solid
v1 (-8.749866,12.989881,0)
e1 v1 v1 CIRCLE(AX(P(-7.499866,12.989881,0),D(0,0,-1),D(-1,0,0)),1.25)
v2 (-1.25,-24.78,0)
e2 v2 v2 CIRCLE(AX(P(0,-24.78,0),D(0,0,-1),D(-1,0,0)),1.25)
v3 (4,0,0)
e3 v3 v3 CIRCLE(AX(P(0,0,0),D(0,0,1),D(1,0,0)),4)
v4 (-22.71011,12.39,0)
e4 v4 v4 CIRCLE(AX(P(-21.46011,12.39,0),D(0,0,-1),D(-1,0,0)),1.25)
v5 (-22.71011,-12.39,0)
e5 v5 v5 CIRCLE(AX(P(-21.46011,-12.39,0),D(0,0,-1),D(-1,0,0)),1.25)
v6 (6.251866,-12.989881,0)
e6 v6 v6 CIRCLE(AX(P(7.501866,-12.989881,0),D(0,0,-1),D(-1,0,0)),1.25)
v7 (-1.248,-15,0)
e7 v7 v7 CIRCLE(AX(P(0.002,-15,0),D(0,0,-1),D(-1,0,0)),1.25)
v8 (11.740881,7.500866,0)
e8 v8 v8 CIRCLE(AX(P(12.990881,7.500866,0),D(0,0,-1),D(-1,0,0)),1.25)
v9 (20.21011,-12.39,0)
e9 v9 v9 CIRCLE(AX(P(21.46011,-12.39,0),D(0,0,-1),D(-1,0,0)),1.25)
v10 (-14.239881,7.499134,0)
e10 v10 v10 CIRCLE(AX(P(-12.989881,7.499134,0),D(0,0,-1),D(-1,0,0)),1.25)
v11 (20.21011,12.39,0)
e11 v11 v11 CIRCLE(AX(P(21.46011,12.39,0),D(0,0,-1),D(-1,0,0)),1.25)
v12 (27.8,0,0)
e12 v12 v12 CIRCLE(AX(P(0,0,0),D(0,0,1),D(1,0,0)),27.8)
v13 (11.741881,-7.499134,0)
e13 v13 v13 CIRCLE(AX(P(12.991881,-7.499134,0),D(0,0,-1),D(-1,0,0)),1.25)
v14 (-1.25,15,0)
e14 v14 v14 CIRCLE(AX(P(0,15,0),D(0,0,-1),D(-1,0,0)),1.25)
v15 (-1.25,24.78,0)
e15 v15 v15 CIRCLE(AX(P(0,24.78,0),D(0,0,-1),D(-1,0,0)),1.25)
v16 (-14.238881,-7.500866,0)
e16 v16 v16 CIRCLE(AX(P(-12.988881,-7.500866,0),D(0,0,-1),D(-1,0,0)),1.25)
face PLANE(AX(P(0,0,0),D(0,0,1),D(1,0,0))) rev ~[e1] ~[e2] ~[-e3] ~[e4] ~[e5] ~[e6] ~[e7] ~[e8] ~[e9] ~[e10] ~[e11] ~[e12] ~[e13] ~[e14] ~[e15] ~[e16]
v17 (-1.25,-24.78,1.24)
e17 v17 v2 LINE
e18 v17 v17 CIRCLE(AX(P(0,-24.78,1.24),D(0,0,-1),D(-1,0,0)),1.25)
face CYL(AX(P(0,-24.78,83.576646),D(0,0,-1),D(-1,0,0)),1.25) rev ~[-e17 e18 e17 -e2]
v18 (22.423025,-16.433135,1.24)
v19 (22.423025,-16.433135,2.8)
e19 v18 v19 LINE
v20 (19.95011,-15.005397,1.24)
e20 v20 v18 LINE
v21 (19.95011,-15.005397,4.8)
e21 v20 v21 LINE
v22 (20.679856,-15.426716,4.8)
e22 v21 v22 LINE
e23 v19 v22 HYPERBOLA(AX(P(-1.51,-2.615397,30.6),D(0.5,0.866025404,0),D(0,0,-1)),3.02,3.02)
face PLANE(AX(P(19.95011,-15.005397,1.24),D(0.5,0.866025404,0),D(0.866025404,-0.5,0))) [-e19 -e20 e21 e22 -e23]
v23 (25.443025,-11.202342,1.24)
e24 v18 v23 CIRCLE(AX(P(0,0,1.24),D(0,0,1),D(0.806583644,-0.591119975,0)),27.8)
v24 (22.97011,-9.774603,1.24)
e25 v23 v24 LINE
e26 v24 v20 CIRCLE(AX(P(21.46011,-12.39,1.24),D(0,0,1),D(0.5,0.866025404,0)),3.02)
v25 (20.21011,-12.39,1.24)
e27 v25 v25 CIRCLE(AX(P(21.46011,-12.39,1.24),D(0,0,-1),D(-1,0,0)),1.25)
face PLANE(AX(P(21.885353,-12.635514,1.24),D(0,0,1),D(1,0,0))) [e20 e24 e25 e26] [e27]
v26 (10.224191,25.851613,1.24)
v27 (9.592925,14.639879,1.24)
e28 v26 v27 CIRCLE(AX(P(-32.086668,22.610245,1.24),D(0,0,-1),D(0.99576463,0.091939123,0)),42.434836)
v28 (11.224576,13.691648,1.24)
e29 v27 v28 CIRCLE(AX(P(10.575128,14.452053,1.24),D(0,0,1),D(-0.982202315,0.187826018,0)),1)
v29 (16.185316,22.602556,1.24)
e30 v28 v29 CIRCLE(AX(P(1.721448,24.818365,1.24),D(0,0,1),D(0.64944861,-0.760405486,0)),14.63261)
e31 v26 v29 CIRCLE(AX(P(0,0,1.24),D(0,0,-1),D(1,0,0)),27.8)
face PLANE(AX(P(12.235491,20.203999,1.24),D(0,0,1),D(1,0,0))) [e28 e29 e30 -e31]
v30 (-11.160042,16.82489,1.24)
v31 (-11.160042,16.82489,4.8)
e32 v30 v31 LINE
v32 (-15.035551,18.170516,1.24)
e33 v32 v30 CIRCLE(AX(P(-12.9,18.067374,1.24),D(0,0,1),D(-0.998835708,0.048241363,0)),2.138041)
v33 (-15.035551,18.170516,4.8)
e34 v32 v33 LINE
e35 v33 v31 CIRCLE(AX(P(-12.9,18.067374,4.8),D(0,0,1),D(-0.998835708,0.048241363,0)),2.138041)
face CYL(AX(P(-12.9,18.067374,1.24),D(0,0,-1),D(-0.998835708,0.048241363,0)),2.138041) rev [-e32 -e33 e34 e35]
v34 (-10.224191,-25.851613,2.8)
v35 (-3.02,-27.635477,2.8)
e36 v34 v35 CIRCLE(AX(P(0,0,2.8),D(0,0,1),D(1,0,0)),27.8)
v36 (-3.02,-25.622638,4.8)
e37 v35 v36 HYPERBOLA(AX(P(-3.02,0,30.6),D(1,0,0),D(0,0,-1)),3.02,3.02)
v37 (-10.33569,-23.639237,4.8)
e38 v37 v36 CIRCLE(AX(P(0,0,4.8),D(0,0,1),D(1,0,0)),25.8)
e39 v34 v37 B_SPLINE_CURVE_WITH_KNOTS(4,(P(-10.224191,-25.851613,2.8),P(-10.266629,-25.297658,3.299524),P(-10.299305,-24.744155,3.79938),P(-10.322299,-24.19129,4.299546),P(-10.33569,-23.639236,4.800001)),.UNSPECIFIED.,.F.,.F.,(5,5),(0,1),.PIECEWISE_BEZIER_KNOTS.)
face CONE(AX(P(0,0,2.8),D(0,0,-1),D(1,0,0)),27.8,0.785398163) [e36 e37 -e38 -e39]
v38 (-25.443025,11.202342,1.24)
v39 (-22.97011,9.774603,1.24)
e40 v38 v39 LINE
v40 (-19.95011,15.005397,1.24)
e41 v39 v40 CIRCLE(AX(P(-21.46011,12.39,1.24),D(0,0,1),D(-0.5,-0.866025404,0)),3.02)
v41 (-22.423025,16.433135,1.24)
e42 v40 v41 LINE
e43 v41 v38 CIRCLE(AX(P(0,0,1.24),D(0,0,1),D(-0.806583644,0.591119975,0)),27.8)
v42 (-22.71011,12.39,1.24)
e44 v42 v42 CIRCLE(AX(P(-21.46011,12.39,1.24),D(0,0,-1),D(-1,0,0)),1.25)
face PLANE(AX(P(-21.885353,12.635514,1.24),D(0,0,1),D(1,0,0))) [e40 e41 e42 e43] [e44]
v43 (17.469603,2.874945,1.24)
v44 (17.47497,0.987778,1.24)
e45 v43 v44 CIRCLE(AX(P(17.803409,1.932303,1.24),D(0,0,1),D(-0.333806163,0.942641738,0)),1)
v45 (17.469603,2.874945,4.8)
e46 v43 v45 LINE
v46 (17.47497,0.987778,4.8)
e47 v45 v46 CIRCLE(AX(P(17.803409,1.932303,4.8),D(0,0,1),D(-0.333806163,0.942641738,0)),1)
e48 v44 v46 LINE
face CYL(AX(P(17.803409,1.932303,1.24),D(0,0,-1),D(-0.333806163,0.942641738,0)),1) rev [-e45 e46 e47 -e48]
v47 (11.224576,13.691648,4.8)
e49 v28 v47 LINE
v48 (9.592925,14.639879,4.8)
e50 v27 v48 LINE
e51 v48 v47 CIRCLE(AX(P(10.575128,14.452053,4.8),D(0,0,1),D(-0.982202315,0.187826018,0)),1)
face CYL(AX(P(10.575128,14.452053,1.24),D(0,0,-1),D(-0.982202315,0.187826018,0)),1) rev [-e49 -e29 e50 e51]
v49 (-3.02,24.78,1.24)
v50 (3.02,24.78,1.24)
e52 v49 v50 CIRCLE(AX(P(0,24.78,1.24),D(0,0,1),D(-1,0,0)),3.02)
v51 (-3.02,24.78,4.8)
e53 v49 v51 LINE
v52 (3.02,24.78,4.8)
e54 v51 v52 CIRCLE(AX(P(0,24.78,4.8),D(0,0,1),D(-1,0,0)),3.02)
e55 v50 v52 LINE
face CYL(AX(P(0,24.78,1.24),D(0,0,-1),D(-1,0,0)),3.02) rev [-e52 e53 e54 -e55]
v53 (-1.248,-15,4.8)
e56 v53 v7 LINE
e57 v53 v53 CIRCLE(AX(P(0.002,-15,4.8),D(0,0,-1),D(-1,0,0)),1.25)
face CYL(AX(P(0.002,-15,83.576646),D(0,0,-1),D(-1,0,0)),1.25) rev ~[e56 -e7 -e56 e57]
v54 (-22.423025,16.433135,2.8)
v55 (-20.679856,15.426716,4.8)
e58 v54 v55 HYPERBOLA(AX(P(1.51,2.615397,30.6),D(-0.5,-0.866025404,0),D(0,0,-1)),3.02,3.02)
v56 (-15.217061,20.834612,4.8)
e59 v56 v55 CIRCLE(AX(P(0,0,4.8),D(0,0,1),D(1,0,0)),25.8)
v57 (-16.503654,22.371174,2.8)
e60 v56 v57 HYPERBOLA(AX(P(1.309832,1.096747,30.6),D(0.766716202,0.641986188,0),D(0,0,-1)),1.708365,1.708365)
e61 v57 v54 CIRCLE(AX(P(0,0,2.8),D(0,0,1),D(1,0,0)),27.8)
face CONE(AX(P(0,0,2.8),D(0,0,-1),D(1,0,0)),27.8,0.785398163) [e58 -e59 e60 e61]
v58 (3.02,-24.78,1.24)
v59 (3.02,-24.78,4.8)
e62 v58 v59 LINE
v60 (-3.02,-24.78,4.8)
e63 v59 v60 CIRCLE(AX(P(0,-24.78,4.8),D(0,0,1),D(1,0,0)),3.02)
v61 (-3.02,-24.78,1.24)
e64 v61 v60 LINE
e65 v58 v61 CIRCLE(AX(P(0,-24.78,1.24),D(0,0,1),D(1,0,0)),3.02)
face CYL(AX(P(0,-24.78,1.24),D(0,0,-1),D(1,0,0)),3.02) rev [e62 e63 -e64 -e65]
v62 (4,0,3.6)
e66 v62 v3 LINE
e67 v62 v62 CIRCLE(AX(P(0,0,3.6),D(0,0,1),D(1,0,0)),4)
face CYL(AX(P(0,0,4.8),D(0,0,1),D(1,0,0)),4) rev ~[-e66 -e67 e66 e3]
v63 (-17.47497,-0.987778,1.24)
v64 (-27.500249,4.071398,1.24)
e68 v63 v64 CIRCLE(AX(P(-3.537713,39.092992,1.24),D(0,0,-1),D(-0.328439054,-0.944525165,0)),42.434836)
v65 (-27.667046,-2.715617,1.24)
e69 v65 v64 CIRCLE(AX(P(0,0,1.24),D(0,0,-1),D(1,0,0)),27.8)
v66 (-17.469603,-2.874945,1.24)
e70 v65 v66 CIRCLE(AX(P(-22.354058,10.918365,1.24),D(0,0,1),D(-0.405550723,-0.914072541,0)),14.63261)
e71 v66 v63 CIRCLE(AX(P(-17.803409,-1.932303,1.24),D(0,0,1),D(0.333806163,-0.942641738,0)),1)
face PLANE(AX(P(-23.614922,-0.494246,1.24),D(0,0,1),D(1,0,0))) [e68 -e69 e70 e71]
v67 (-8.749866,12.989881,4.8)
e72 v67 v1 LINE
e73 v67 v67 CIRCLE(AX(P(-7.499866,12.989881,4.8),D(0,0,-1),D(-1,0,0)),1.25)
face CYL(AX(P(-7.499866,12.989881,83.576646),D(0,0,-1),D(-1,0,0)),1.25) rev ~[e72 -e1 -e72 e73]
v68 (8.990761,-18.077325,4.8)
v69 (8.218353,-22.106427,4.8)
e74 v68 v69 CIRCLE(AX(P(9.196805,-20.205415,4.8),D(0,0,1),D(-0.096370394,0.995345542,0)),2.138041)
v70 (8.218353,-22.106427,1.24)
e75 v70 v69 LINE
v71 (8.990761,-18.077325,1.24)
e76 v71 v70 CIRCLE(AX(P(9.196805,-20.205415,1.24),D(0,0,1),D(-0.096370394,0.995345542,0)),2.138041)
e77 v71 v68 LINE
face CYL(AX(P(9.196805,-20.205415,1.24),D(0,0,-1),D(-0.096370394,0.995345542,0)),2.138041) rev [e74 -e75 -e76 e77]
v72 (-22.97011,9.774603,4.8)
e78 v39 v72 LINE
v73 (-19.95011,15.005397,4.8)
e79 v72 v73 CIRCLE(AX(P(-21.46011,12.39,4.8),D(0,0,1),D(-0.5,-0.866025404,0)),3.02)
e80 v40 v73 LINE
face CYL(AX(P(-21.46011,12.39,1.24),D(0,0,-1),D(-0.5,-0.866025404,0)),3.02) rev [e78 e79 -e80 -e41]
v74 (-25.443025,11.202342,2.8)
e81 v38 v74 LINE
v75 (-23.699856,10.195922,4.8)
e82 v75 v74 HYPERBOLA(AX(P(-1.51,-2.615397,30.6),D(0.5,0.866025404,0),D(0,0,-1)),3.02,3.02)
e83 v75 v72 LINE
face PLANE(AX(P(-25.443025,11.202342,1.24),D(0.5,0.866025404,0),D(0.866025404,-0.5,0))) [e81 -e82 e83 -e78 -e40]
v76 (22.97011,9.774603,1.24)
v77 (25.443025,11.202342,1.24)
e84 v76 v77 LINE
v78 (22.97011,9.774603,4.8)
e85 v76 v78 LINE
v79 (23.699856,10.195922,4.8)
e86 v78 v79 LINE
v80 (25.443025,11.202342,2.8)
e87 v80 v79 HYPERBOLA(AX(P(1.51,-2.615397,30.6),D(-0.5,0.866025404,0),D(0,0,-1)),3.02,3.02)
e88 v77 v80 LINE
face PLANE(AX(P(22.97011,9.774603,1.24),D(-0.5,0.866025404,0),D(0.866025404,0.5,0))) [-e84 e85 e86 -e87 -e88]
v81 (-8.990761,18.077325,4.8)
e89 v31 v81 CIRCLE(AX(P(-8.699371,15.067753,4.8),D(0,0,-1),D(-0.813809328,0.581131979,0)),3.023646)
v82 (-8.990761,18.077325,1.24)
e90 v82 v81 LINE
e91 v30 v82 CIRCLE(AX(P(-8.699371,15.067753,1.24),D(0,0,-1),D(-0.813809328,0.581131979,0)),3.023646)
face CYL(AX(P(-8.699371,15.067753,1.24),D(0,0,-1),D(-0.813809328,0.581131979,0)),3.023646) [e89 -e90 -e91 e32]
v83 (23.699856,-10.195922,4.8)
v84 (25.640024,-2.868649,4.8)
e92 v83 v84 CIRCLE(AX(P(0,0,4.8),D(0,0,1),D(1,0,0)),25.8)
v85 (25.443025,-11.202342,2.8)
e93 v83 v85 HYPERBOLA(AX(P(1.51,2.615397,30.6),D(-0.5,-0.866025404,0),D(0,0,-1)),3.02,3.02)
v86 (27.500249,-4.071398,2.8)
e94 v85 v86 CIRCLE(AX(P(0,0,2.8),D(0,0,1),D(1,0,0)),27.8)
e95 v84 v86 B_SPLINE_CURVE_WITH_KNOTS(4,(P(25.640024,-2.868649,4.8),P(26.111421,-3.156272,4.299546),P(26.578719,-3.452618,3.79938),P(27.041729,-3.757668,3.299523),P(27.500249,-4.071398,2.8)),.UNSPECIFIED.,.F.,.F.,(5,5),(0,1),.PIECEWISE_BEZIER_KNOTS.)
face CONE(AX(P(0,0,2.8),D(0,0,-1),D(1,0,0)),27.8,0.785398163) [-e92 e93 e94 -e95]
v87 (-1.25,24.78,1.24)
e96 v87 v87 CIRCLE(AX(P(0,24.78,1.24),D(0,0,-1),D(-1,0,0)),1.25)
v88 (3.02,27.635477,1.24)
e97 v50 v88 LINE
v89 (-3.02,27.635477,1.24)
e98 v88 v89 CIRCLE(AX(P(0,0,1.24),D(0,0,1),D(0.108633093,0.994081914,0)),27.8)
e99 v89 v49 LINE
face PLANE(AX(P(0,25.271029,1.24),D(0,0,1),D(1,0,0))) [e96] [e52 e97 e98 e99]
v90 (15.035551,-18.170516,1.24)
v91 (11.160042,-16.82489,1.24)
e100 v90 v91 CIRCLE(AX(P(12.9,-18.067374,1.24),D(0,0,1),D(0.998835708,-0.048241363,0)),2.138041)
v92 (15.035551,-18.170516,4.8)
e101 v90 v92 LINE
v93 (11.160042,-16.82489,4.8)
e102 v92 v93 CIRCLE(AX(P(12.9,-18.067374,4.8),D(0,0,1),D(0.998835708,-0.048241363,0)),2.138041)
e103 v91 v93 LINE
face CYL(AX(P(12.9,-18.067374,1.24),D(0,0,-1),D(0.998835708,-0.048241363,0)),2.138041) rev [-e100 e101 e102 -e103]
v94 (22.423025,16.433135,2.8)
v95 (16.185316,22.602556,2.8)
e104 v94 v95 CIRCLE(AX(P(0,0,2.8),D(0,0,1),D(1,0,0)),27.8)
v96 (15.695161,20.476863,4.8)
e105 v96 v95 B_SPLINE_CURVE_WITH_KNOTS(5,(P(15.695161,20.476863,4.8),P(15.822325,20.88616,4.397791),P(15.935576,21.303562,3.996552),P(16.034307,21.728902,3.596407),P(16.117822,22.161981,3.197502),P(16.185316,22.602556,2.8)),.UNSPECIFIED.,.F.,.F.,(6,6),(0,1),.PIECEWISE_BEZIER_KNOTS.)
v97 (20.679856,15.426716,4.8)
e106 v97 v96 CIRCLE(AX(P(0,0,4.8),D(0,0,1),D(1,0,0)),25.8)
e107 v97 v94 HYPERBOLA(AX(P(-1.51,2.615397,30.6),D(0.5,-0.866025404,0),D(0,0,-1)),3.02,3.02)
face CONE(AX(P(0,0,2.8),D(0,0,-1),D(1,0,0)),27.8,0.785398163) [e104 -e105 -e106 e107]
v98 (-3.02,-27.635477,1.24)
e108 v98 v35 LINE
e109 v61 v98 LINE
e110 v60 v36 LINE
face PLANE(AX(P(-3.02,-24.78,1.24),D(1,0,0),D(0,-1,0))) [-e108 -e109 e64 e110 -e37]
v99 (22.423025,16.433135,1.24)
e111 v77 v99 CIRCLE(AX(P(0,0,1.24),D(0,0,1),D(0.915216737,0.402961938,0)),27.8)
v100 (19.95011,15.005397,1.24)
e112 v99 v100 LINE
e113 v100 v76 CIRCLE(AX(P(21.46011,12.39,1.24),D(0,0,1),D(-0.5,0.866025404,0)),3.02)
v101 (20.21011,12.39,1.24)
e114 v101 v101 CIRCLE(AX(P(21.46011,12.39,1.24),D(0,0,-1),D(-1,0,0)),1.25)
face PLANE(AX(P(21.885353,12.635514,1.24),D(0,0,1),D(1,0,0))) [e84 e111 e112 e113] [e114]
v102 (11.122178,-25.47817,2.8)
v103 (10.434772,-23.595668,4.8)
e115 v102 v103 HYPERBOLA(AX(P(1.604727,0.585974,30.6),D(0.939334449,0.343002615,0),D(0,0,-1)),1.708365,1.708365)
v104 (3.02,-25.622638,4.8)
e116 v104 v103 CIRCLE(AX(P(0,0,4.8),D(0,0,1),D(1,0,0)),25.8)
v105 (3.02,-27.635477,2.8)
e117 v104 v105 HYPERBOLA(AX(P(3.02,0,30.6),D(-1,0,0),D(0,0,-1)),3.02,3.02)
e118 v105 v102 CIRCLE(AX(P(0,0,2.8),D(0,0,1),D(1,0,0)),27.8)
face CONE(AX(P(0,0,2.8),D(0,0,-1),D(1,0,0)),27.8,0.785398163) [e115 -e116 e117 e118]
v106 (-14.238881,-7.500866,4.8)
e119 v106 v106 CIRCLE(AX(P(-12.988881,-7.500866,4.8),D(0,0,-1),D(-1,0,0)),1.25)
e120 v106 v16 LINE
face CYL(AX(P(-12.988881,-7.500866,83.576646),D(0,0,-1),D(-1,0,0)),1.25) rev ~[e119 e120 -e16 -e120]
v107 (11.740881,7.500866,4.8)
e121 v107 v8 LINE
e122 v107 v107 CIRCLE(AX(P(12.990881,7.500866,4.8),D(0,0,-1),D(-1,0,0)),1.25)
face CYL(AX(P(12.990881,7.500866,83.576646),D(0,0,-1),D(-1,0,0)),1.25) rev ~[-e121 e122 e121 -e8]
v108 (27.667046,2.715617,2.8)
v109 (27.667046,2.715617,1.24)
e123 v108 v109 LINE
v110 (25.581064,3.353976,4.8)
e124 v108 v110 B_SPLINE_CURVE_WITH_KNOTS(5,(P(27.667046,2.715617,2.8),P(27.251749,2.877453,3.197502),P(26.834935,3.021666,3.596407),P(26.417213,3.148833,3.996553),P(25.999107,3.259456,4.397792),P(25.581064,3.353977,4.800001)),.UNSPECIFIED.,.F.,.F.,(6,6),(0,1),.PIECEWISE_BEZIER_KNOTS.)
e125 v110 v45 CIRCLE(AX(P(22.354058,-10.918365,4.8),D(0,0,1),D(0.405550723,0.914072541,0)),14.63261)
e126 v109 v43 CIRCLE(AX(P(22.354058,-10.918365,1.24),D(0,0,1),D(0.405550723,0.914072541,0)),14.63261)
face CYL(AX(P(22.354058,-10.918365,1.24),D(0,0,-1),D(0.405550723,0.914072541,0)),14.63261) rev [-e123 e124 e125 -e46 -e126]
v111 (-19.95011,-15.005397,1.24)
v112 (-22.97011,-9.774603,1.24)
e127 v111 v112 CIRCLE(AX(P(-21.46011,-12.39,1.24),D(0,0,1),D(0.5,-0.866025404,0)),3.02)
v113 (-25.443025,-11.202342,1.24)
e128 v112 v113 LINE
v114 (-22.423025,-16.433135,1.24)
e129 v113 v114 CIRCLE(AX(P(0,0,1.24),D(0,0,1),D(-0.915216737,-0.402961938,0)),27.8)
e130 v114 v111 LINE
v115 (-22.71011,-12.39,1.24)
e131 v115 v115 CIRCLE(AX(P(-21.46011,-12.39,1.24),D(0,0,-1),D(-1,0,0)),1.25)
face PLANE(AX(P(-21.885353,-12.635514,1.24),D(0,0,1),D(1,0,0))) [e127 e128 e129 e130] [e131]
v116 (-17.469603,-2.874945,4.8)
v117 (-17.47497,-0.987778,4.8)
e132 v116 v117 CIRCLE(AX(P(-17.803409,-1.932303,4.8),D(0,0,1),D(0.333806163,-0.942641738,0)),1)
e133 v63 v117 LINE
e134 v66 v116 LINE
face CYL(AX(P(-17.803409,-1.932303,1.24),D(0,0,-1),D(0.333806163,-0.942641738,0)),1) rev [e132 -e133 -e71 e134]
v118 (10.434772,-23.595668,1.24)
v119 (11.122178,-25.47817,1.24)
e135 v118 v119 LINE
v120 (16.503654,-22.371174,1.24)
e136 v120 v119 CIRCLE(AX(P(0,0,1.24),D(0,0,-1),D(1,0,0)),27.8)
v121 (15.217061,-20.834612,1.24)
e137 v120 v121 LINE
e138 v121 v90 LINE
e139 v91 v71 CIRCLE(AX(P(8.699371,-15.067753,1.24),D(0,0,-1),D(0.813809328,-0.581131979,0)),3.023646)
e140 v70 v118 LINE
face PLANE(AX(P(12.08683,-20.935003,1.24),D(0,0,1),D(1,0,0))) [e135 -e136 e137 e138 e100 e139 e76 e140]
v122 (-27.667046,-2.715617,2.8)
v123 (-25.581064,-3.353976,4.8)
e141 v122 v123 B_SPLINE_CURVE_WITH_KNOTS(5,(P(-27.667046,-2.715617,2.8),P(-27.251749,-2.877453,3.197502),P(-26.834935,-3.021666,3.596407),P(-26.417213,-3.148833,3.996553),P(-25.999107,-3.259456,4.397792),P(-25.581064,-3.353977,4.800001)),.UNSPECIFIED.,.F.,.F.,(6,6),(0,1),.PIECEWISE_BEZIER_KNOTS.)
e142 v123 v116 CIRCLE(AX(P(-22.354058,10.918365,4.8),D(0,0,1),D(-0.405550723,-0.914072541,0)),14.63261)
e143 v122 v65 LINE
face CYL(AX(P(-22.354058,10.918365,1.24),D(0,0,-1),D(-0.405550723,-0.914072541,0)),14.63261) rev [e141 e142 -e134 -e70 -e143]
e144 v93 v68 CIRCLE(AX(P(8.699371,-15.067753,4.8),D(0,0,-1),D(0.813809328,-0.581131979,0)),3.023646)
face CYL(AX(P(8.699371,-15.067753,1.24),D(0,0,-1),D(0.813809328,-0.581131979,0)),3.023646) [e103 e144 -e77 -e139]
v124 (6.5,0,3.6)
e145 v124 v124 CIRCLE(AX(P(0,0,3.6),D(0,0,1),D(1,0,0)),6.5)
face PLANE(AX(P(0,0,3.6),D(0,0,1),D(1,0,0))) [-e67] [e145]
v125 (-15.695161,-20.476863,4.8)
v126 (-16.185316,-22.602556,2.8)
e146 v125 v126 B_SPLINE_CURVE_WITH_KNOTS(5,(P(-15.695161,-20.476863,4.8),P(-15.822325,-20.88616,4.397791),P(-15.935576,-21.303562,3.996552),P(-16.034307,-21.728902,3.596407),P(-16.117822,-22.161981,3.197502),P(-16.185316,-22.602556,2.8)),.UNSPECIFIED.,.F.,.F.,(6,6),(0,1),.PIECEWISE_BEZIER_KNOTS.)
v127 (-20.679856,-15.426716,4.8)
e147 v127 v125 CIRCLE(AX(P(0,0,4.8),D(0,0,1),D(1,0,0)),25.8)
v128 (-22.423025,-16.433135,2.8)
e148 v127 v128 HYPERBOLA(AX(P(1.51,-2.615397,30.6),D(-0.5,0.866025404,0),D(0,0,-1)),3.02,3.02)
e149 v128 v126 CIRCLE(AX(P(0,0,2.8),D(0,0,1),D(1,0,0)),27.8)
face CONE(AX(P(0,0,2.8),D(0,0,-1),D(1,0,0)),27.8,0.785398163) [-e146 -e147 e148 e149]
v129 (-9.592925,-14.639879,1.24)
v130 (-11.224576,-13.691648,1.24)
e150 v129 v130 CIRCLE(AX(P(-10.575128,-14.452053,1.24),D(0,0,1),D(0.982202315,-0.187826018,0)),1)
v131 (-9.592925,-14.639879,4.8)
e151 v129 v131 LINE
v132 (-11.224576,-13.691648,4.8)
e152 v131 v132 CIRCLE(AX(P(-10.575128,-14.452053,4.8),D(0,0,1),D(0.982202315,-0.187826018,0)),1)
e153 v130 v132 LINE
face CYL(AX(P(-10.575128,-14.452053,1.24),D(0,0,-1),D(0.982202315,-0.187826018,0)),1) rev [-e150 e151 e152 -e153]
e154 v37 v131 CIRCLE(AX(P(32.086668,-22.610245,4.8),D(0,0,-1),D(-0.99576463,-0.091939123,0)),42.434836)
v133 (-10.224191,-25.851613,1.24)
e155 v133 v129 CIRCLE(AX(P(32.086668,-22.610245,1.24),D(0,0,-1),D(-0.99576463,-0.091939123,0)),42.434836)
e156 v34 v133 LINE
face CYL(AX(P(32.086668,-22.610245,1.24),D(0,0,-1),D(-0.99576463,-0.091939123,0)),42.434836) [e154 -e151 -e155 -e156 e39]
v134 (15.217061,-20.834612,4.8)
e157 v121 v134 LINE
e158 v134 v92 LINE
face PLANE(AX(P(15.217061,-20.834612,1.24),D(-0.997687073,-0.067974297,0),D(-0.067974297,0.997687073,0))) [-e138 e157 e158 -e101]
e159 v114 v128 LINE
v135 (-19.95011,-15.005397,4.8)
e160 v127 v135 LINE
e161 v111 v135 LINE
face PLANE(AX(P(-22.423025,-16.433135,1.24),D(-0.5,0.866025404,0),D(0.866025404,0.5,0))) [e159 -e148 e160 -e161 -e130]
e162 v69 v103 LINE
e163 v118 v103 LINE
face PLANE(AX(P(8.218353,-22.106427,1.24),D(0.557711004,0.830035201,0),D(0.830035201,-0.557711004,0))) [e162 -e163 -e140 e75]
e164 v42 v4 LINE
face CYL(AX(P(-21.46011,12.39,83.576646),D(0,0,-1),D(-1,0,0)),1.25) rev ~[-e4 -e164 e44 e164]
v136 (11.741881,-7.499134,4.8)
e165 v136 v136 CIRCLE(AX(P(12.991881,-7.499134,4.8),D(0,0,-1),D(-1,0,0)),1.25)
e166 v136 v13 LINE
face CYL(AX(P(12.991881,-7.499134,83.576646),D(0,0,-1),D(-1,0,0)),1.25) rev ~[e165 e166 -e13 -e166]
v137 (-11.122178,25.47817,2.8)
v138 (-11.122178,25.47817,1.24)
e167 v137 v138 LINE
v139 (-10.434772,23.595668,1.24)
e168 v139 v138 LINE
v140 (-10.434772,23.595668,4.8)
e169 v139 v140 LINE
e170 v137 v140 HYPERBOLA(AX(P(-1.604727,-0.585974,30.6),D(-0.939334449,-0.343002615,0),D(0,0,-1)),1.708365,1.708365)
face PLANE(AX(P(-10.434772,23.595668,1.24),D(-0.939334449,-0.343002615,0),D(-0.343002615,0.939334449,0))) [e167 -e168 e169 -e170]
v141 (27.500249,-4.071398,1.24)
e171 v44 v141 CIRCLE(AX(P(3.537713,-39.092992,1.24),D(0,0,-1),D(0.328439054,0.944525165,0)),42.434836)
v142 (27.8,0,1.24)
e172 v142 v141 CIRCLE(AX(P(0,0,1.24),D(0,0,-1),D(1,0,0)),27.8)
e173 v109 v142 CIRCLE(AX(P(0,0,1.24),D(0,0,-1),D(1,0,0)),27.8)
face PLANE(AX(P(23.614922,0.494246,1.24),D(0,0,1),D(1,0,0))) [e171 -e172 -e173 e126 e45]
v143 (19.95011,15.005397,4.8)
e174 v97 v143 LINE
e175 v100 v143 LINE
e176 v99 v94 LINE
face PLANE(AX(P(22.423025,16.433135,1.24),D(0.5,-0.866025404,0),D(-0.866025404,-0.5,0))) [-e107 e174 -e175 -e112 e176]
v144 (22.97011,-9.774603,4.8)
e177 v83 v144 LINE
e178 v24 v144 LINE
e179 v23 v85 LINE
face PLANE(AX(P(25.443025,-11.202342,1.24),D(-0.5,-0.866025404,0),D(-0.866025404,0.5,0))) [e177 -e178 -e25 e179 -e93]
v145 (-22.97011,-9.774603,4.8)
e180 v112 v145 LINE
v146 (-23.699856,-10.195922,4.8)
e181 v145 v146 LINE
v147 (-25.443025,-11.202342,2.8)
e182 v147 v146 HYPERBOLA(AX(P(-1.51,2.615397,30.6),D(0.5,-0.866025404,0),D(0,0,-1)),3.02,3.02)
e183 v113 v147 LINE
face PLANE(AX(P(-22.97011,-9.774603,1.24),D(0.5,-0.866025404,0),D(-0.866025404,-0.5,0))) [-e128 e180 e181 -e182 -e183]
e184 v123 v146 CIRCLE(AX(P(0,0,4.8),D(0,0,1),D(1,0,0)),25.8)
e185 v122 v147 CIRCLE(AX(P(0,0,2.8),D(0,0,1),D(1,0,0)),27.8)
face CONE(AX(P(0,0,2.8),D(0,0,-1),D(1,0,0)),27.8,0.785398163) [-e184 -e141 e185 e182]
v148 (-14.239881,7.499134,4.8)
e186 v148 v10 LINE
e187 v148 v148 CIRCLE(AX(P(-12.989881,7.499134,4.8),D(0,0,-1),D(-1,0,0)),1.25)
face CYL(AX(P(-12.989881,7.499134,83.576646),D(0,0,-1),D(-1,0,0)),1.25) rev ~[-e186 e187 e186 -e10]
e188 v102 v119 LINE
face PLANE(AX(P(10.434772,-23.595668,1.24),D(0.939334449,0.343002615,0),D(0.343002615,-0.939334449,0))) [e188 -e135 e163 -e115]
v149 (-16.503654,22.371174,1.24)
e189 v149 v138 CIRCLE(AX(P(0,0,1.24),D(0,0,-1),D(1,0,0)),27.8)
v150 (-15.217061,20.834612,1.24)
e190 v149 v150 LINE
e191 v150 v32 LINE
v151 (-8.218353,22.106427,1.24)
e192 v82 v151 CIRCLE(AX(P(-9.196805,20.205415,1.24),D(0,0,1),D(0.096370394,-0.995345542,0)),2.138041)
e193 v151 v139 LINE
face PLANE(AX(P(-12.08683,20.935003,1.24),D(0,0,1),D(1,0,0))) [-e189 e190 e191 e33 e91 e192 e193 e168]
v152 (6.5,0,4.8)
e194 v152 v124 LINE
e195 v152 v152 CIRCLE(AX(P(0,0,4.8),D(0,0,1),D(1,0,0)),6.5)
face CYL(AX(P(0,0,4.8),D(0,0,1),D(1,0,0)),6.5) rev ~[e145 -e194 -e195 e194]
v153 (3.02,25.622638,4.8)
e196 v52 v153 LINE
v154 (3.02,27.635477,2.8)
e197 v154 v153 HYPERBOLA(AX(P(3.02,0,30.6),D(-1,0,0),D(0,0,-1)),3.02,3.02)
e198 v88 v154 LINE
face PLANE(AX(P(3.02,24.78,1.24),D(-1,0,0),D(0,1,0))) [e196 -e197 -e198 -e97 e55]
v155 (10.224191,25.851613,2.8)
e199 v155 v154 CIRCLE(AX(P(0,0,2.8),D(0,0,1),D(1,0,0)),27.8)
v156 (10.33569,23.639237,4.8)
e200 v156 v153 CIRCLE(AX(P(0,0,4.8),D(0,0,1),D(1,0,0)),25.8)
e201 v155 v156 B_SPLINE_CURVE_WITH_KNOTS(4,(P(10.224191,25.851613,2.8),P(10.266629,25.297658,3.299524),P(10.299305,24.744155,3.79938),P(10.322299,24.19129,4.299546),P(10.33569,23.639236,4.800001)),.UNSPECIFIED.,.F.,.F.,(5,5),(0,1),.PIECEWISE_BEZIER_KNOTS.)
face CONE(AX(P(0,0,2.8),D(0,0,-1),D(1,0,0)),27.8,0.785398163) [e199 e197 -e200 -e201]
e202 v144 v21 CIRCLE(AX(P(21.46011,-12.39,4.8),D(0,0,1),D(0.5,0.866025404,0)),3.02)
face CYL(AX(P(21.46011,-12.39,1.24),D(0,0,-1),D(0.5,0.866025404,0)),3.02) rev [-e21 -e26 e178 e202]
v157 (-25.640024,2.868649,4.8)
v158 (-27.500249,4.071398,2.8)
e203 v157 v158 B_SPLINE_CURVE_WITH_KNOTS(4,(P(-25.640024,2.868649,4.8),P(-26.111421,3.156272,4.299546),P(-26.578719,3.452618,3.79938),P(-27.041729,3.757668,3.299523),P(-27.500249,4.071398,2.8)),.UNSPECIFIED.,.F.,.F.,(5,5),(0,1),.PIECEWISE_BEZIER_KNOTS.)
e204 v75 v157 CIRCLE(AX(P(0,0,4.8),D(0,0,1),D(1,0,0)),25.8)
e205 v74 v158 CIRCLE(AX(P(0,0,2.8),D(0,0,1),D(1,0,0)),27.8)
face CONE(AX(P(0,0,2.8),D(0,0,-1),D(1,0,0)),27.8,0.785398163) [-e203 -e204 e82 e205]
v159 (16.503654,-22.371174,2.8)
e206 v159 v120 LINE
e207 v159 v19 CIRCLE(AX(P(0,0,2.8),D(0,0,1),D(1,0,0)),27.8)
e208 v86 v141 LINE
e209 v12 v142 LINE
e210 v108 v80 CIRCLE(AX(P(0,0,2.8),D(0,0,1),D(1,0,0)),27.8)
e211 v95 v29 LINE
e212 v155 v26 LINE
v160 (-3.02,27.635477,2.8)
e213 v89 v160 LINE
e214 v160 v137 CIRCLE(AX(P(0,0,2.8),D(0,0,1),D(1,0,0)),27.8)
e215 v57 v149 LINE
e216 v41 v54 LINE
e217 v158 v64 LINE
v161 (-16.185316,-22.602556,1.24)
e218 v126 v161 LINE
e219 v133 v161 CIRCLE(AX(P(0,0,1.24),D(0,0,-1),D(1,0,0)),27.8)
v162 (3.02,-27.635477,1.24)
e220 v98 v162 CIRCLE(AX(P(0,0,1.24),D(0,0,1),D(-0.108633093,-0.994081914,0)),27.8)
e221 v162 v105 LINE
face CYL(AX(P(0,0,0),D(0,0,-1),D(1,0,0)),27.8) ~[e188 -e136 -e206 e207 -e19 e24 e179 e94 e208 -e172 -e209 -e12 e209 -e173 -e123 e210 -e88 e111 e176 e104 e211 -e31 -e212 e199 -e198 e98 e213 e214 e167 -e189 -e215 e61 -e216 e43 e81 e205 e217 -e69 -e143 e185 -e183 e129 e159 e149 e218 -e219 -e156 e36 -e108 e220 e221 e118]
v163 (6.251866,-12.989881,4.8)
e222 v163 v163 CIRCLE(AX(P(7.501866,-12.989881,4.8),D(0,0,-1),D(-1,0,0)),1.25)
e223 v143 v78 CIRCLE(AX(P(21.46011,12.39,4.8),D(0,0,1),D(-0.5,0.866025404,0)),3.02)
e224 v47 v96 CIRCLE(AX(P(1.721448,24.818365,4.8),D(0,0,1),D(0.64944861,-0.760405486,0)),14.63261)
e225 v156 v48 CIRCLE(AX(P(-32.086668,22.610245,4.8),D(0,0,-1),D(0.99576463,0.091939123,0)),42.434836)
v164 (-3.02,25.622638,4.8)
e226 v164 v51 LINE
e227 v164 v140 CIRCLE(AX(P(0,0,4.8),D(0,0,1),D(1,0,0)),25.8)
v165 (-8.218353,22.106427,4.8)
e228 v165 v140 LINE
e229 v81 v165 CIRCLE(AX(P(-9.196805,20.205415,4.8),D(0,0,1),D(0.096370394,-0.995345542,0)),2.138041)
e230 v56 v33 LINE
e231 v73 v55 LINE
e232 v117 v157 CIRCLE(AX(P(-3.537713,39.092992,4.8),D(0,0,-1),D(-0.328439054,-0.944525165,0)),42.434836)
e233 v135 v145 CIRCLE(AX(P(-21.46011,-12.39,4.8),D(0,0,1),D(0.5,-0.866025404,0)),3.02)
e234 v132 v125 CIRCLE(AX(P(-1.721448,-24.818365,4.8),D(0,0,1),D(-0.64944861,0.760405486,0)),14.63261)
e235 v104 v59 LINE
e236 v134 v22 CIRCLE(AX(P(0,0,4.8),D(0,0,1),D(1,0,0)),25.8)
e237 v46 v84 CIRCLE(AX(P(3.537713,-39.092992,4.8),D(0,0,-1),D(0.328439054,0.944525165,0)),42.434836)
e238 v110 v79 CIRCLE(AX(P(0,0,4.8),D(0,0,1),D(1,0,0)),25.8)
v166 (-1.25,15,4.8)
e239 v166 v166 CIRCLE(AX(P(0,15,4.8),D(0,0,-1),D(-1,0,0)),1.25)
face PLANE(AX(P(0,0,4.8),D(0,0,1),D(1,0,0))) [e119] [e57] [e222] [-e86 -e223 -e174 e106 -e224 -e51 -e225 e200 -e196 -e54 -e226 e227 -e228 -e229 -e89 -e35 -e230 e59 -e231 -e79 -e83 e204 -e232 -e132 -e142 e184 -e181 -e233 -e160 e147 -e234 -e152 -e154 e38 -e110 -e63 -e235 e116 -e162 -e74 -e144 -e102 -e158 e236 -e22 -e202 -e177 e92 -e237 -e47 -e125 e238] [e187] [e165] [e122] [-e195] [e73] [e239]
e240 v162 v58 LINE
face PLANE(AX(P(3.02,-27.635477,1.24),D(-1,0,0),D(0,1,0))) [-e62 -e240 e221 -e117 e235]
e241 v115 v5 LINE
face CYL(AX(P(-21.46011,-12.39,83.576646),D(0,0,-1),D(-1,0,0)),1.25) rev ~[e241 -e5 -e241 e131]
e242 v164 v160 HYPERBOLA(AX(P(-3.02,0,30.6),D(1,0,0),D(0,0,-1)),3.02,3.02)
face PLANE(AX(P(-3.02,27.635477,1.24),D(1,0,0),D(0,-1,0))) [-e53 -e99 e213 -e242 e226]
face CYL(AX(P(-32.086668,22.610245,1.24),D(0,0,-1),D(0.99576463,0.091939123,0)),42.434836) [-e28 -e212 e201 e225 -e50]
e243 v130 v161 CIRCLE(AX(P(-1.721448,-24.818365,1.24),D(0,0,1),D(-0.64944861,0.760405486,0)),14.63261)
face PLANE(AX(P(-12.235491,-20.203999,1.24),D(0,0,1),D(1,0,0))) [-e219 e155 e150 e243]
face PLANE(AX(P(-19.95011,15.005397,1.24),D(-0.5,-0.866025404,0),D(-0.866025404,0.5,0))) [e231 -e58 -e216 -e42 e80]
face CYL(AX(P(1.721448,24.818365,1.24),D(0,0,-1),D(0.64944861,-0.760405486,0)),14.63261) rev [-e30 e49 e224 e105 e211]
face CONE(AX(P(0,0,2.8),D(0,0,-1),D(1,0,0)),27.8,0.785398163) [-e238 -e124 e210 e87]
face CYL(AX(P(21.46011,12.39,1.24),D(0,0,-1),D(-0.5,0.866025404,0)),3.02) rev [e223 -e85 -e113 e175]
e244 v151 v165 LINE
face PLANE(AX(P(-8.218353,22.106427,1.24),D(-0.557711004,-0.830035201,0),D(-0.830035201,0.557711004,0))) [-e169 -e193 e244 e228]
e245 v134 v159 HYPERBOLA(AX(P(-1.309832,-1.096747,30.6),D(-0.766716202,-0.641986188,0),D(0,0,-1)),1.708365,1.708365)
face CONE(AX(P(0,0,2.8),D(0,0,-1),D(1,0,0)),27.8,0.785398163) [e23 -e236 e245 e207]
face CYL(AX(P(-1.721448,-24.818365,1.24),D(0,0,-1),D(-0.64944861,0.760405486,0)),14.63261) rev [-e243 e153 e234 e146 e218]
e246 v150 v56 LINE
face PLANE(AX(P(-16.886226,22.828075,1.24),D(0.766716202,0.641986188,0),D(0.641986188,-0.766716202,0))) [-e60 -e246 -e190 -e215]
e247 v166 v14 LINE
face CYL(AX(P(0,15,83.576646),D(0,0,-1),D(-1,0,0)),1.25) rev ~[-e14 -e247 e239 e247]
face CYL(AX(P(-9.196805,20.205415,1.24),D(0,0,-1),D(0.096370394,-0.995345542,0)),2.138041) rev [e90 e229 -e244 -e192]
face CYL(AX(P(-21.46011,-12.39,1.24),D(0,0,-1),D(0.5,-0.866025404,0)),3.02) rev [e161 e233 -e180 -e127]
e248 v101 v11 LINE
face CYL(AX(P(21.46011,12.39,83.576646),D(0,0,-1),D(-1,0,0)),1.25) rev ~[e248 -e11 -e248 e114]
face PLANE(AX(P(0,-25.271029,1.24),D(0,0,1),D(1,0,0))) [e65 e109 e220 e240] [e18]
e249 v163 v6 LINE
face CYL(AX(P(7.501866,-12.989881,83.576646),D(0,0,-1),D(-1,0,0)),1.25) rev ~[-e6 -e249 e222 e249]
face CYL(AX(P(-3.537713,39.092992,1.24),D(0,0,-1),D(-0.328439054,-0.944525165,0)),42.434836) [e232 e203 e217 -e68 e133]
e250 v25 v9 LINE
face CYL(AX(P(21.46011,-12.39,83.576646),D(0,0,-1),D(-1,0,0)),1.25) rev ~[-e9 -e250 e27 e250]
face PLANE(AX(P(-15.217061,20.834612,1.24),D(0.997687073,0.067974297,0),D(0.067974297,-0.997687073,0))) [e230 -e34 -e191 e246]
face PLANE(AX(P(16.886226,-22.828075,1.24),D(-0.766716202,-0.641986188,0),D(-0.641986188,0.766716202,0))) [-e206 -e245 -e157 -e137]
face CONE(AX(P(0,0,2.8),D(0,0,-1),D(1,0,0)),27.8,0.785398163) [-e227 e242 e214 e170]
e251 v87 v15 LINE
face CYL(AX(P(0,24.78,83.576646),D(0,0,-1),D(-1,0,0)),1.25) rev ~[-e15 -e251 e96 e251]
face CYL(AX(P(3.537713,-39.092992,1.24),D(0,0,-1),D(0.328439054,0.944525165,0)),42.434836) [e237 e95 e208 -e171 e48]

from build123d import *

# Parameters (mm, degrees)
SKETCH1_R             = 27.8
BOSS_EXTRUDE1_DEPTH   = 4.8
CHAMFER1_SIZE         = 2
CUT_EXTRUDE1_START    = -3.56
CUT_EXTRUDE1_DEPTH    = 3.56
M3X0_5_TAPPED_HOLE1_D = 2.5
SKETCH7_R             = 4
CUT_EXTRUDE2_DEPTH    = 40.607070076
SKETCH8_R             = 6.5
CUT_EXTRUDE3_DEPTH    = 1.2
M3X0_5_TAPPED_HOLE2_D = 2.5


with BuildPart() as part:
    # Sketch1 → Boss-Extrude1 (new body)
    with BuildSketch(Plane.XY):
        Circle(SKETCH1_R)
    extrude(amount=BOSS_EXTRUDE1_DEPTH)

    # Chamfer1
    chamfer1_edges = [part.edges().sort_by_distance(p)[0] for p in [
        (-27.8, 0, 4.8),
    ]]
    chamfer(chamfer1_edges, length=CHAMFER1_SIZE)

    # Sketch2 → Cut-Extrude1 (cut)
    with BuildSketch(Plane.XY.offset(4.8).offset(CUT_EXTRUDE1_START)):
        with BuildLine():
            Line((-3.02, 27.635477199), (-3.02, 24.78))
            ThreePointArc((-3.02, 24.78), (0, 21.76), (3.02, 24.78))
            Line((3.02, 24.78), (3.02, 27.635477199))
            ThreePointArc((3.02, 27.635477199), (0, 27.8), (-3.02, 27.635477199))
        make_face()
        with BuildLine():
            Line((22.4230253, 16.433135319), (19.950109506, 15.005396719))
            ThreePointArc((19.950109506, 15.005396719), (18.844712786, 10.88), (22.970109506, 9.774603281))
            Line((22.970109506, 9.774603281), (25.4430253, 11.20234188))
            ThreePointArc((25.4430253, 11.20234188), (24.075506225, 13.9), (22.4230253, 16.433135319))
        make_face()
        with BuildLine():
            Line((25.4430253, -11.20234188), (22.970109506, -9.774603281))
            ThreePointArc((22.970109506, -9.774603281), (18.844712786, -10.88), (19.950109506, -15.005396719))
            Line((19.950109506, -15.005396719), (22.4230253, -16.433135319))
            ThreePointArc((22.4230253, -16.433135319), (24.075506225, -13.9), (25.4430253, -11.20234188))
        make_face()
        with BuildLine():
            Line((3.02, -27.635477199), (3.02, -24.78))
            ThreePointArc((3.02, -24.78), (0, -21.76), (-3.02, -24.78))
            Line((-3.02, -24.78), (-3.02, -27.635477199))
            ThreePointArc((-3.02, -27.635477199), (0, -27.8), (3.02, -27.635477199))
        make_face()
        with BuildLine():
            Line((-22.4230253, -16.433135319), (-19.950109506, -15.005396719))
            ThreePointArc((-19.950109506, -15.005396719), (-18.844712786, -10.88), (-22.970109506, -9.774603281))
            Line((-22.970109506, -9.774603281), (-25.4430253, -11.20234188))
            ThreePointArc((-25.4430253, -11.20234188), (-24.075506225, -13.9), (-22.4230253, -16.433135319))
        make_face()
        with BuildLine():
            Line((-25.4430253, 11.20234188), (-22.970109506, 9.774603281))
            ThreePointArc((-22.970109506, 9.774603281), (-18.844712786, 10.88), (-19.950109506, 15.005396719))
            Line((-19.950109506, 15.005396719), (-22.4230253, 16.433135319))
            ThreePointArc((-22.4230253, 16.433135319), (-24.075506225, 13.9), (-25.4430253, 11.20234188))
        make_face()
        with BuildLine():
            ThreePointArc((-8.990760958, 18.077325331), (-7.097001538, 19.802867047), (-8.218352654, 22.106427471))
            Line((-8.218352654, 22.106427471), (-10.434772365, 23.595667519))
            Line((-10.434772365, 23.595667519), (-11.326579695, 26.037938541))
            ThreePointArc((-11.326579695, 26.037938541), (-14.197408663, 24.590633141), (-16.886226391, 22.828075024))
            Line((-16.886226391, 22.828075024), (-15.217061308, 20.834611711))
            Line((-15.217061308, 20.834611711), (-15.035551449, 18.170515911))
            ThreePointArc((-15.035551449, 18.170515911), (-13.601285161, 16.047617146), (-11.16004249, 16.824890055))
            ThreePointArc((-11.16004249, 16.824890055), (-10.211194098, 17.686306984), (-8.990760958, 18.077325331))
        make_face()
        with BuildLine():
            ThreePointArc((8.990760958, -18.077325331), (7.097001538, -19.802867047), (8.218352654, -22.106427471))
            Line((8.218352654, -22.106427471), (10.434772365, -23.595667519))
            Line((10.434772365, -23.595667519), (11.326579695, -26.037938541))
            ThreePointArc((11.326579695, -26.037938541), (14.197408663, -24.590633141), (16.886226391, -22.828075024))
            Line((16.886226391, -22.828075024), (15.217061308, -20.834611711))
            Line((15.217061308, -20.834611711), (15.035551449, -18.170515911))
            ThreePointArc((15.035551449, -18.170515911), (13.601285161, -16.047617146), (11.16004249, -16.824890055))
            ThreePointArc((11.16004249, -16.824890055), (10.211194098, -17.686306984), (8.990760958, -18.077325331))
        make_face()
        with BuildLine():
            ThreePointArc((9.592925481, 14.639879042), (10.072666849, 13.587453118), (11.224576406, 13.691647537))
            ThreePointArc((11.224576406, 13.691647537), (14.666706062, 17.996812228), (16.27190214, 23.26995599))
            ThreePointArc((16.27190214, 23.26995599), (13.319162757, 25.077191918), (10.168440088, 26.511666813))
            ThreePointArc((10.168440088, 26.511666813), (10.298392669, 20.555523396), (9.592925481, 14.639879042))
        make_face()
        with BuildLine():
            ThreePointArc((28.288324102, 2.456902626), (22.919049608, 3.703333926), (17.46960279, 2.874944546))
            ThreePointArc((17.46960279, 2.874944546), (16.803412997, 1.929458816), (17.474969899, 0.987777643))
            ThreePointArc((17.474969899, 0.987777643), (22.950801784, -1.359092028), (28.043997001, -4.449705973))
            ThreePointArc((28.043997001, -4.449705973), (28.377066635, -1.003862654), (28.288324102, 2.456902626))
        make_face()
        with BuildLine():
            ThreePointArc((-28.288324102, -2.456902626), (-22.919049608, -3.703333926), (-17.46960279, -2.874944546))
            ThreePointArc((-17.46960279, -2.874944546), (-16.803412997, -1.929458816), (-17.474969899, -0.987777643))
            ThreePointArc((-17.474969899, -0.987777643), (-22.950801784, 1.359092028), (-28.043997001, 4.449705973))
            ThreePointArc((-28.043997001, 4.449705973), (-28.377066635, 1.003862654), (-28.288324102, -2.456902626))
        make_face()
        with BuildLine():
            ThreePointArc((-10.168440088, -26.511666813), (-10.298392669, -20.555523396), (-9.592925481, -14.639879042))
            ThreePointArc((-9.592925481, -14.639879042), (-10.072666849, -13.587453118), (-11.224576406, -13.691647537))
            ThreePointArc((-11.224576406, -13.691647537), (-14.666706062, -17.996812228), (-16.27190214, -23.26995599))
            ThreePointArc((-16.27190214, -23.26995599), (-13.319162757, -25.077191918), (-10.168440088, -26.511666813))
        make_face()
    extrude(amount=CUT_EXTRUDE1_DEPTH, mode=Mode.SUBTRACT)

    # M3x0.5 Tapped Hole1 (through all)
    with Locations(Plane.XY.offset(4.8)):
        with Locations((0, 15), (12.990881057, 7.500866025), (12.991881057, -7.499133975), (7.501866025, -12.989881057), (0.002, -15), (-12.988881057, -7.500866025), (-12.989881057, 7.499133975), (-7.499866025, 12.989881057)):
            Hole(M3X0_5_TAPPED_HOLE1_D / 2)

    # Sketch7 → Cut-Extrude2 (cut, through all)
    with BuildSketch(Plane.XY.offset(4.8)):
        Circle(SKETCH7_R)
    extrude(amount=-CUT_EXTRUDE2_DEPTH, mode=Mode.SUBTRACT)

    # Sketch8 → Cut-Extrude3 (cut)
    with BuildSketch(Plane.XY.offset(4.8)):
        Circle(SKETCH8_R)
    extrude(amount=-CUT_EXTRUDE3_DEPTH, mode=Mode.SUBTRACT)

    # M3x0.5 Tapped Hole2 (through all)
    with Locations(Plane.XY.offset(4.8)):
        with Locations((0, 24.78), (21.460109506, 12.39), (21.460109506, -12.39), (0, -24.78), (-21.460109506, -12.39), (-21.460109506, 12.39), (0, 0)):
            Hole(M3X0_5_TAPPED_HOLE2_D / 2)


solid = part.part
